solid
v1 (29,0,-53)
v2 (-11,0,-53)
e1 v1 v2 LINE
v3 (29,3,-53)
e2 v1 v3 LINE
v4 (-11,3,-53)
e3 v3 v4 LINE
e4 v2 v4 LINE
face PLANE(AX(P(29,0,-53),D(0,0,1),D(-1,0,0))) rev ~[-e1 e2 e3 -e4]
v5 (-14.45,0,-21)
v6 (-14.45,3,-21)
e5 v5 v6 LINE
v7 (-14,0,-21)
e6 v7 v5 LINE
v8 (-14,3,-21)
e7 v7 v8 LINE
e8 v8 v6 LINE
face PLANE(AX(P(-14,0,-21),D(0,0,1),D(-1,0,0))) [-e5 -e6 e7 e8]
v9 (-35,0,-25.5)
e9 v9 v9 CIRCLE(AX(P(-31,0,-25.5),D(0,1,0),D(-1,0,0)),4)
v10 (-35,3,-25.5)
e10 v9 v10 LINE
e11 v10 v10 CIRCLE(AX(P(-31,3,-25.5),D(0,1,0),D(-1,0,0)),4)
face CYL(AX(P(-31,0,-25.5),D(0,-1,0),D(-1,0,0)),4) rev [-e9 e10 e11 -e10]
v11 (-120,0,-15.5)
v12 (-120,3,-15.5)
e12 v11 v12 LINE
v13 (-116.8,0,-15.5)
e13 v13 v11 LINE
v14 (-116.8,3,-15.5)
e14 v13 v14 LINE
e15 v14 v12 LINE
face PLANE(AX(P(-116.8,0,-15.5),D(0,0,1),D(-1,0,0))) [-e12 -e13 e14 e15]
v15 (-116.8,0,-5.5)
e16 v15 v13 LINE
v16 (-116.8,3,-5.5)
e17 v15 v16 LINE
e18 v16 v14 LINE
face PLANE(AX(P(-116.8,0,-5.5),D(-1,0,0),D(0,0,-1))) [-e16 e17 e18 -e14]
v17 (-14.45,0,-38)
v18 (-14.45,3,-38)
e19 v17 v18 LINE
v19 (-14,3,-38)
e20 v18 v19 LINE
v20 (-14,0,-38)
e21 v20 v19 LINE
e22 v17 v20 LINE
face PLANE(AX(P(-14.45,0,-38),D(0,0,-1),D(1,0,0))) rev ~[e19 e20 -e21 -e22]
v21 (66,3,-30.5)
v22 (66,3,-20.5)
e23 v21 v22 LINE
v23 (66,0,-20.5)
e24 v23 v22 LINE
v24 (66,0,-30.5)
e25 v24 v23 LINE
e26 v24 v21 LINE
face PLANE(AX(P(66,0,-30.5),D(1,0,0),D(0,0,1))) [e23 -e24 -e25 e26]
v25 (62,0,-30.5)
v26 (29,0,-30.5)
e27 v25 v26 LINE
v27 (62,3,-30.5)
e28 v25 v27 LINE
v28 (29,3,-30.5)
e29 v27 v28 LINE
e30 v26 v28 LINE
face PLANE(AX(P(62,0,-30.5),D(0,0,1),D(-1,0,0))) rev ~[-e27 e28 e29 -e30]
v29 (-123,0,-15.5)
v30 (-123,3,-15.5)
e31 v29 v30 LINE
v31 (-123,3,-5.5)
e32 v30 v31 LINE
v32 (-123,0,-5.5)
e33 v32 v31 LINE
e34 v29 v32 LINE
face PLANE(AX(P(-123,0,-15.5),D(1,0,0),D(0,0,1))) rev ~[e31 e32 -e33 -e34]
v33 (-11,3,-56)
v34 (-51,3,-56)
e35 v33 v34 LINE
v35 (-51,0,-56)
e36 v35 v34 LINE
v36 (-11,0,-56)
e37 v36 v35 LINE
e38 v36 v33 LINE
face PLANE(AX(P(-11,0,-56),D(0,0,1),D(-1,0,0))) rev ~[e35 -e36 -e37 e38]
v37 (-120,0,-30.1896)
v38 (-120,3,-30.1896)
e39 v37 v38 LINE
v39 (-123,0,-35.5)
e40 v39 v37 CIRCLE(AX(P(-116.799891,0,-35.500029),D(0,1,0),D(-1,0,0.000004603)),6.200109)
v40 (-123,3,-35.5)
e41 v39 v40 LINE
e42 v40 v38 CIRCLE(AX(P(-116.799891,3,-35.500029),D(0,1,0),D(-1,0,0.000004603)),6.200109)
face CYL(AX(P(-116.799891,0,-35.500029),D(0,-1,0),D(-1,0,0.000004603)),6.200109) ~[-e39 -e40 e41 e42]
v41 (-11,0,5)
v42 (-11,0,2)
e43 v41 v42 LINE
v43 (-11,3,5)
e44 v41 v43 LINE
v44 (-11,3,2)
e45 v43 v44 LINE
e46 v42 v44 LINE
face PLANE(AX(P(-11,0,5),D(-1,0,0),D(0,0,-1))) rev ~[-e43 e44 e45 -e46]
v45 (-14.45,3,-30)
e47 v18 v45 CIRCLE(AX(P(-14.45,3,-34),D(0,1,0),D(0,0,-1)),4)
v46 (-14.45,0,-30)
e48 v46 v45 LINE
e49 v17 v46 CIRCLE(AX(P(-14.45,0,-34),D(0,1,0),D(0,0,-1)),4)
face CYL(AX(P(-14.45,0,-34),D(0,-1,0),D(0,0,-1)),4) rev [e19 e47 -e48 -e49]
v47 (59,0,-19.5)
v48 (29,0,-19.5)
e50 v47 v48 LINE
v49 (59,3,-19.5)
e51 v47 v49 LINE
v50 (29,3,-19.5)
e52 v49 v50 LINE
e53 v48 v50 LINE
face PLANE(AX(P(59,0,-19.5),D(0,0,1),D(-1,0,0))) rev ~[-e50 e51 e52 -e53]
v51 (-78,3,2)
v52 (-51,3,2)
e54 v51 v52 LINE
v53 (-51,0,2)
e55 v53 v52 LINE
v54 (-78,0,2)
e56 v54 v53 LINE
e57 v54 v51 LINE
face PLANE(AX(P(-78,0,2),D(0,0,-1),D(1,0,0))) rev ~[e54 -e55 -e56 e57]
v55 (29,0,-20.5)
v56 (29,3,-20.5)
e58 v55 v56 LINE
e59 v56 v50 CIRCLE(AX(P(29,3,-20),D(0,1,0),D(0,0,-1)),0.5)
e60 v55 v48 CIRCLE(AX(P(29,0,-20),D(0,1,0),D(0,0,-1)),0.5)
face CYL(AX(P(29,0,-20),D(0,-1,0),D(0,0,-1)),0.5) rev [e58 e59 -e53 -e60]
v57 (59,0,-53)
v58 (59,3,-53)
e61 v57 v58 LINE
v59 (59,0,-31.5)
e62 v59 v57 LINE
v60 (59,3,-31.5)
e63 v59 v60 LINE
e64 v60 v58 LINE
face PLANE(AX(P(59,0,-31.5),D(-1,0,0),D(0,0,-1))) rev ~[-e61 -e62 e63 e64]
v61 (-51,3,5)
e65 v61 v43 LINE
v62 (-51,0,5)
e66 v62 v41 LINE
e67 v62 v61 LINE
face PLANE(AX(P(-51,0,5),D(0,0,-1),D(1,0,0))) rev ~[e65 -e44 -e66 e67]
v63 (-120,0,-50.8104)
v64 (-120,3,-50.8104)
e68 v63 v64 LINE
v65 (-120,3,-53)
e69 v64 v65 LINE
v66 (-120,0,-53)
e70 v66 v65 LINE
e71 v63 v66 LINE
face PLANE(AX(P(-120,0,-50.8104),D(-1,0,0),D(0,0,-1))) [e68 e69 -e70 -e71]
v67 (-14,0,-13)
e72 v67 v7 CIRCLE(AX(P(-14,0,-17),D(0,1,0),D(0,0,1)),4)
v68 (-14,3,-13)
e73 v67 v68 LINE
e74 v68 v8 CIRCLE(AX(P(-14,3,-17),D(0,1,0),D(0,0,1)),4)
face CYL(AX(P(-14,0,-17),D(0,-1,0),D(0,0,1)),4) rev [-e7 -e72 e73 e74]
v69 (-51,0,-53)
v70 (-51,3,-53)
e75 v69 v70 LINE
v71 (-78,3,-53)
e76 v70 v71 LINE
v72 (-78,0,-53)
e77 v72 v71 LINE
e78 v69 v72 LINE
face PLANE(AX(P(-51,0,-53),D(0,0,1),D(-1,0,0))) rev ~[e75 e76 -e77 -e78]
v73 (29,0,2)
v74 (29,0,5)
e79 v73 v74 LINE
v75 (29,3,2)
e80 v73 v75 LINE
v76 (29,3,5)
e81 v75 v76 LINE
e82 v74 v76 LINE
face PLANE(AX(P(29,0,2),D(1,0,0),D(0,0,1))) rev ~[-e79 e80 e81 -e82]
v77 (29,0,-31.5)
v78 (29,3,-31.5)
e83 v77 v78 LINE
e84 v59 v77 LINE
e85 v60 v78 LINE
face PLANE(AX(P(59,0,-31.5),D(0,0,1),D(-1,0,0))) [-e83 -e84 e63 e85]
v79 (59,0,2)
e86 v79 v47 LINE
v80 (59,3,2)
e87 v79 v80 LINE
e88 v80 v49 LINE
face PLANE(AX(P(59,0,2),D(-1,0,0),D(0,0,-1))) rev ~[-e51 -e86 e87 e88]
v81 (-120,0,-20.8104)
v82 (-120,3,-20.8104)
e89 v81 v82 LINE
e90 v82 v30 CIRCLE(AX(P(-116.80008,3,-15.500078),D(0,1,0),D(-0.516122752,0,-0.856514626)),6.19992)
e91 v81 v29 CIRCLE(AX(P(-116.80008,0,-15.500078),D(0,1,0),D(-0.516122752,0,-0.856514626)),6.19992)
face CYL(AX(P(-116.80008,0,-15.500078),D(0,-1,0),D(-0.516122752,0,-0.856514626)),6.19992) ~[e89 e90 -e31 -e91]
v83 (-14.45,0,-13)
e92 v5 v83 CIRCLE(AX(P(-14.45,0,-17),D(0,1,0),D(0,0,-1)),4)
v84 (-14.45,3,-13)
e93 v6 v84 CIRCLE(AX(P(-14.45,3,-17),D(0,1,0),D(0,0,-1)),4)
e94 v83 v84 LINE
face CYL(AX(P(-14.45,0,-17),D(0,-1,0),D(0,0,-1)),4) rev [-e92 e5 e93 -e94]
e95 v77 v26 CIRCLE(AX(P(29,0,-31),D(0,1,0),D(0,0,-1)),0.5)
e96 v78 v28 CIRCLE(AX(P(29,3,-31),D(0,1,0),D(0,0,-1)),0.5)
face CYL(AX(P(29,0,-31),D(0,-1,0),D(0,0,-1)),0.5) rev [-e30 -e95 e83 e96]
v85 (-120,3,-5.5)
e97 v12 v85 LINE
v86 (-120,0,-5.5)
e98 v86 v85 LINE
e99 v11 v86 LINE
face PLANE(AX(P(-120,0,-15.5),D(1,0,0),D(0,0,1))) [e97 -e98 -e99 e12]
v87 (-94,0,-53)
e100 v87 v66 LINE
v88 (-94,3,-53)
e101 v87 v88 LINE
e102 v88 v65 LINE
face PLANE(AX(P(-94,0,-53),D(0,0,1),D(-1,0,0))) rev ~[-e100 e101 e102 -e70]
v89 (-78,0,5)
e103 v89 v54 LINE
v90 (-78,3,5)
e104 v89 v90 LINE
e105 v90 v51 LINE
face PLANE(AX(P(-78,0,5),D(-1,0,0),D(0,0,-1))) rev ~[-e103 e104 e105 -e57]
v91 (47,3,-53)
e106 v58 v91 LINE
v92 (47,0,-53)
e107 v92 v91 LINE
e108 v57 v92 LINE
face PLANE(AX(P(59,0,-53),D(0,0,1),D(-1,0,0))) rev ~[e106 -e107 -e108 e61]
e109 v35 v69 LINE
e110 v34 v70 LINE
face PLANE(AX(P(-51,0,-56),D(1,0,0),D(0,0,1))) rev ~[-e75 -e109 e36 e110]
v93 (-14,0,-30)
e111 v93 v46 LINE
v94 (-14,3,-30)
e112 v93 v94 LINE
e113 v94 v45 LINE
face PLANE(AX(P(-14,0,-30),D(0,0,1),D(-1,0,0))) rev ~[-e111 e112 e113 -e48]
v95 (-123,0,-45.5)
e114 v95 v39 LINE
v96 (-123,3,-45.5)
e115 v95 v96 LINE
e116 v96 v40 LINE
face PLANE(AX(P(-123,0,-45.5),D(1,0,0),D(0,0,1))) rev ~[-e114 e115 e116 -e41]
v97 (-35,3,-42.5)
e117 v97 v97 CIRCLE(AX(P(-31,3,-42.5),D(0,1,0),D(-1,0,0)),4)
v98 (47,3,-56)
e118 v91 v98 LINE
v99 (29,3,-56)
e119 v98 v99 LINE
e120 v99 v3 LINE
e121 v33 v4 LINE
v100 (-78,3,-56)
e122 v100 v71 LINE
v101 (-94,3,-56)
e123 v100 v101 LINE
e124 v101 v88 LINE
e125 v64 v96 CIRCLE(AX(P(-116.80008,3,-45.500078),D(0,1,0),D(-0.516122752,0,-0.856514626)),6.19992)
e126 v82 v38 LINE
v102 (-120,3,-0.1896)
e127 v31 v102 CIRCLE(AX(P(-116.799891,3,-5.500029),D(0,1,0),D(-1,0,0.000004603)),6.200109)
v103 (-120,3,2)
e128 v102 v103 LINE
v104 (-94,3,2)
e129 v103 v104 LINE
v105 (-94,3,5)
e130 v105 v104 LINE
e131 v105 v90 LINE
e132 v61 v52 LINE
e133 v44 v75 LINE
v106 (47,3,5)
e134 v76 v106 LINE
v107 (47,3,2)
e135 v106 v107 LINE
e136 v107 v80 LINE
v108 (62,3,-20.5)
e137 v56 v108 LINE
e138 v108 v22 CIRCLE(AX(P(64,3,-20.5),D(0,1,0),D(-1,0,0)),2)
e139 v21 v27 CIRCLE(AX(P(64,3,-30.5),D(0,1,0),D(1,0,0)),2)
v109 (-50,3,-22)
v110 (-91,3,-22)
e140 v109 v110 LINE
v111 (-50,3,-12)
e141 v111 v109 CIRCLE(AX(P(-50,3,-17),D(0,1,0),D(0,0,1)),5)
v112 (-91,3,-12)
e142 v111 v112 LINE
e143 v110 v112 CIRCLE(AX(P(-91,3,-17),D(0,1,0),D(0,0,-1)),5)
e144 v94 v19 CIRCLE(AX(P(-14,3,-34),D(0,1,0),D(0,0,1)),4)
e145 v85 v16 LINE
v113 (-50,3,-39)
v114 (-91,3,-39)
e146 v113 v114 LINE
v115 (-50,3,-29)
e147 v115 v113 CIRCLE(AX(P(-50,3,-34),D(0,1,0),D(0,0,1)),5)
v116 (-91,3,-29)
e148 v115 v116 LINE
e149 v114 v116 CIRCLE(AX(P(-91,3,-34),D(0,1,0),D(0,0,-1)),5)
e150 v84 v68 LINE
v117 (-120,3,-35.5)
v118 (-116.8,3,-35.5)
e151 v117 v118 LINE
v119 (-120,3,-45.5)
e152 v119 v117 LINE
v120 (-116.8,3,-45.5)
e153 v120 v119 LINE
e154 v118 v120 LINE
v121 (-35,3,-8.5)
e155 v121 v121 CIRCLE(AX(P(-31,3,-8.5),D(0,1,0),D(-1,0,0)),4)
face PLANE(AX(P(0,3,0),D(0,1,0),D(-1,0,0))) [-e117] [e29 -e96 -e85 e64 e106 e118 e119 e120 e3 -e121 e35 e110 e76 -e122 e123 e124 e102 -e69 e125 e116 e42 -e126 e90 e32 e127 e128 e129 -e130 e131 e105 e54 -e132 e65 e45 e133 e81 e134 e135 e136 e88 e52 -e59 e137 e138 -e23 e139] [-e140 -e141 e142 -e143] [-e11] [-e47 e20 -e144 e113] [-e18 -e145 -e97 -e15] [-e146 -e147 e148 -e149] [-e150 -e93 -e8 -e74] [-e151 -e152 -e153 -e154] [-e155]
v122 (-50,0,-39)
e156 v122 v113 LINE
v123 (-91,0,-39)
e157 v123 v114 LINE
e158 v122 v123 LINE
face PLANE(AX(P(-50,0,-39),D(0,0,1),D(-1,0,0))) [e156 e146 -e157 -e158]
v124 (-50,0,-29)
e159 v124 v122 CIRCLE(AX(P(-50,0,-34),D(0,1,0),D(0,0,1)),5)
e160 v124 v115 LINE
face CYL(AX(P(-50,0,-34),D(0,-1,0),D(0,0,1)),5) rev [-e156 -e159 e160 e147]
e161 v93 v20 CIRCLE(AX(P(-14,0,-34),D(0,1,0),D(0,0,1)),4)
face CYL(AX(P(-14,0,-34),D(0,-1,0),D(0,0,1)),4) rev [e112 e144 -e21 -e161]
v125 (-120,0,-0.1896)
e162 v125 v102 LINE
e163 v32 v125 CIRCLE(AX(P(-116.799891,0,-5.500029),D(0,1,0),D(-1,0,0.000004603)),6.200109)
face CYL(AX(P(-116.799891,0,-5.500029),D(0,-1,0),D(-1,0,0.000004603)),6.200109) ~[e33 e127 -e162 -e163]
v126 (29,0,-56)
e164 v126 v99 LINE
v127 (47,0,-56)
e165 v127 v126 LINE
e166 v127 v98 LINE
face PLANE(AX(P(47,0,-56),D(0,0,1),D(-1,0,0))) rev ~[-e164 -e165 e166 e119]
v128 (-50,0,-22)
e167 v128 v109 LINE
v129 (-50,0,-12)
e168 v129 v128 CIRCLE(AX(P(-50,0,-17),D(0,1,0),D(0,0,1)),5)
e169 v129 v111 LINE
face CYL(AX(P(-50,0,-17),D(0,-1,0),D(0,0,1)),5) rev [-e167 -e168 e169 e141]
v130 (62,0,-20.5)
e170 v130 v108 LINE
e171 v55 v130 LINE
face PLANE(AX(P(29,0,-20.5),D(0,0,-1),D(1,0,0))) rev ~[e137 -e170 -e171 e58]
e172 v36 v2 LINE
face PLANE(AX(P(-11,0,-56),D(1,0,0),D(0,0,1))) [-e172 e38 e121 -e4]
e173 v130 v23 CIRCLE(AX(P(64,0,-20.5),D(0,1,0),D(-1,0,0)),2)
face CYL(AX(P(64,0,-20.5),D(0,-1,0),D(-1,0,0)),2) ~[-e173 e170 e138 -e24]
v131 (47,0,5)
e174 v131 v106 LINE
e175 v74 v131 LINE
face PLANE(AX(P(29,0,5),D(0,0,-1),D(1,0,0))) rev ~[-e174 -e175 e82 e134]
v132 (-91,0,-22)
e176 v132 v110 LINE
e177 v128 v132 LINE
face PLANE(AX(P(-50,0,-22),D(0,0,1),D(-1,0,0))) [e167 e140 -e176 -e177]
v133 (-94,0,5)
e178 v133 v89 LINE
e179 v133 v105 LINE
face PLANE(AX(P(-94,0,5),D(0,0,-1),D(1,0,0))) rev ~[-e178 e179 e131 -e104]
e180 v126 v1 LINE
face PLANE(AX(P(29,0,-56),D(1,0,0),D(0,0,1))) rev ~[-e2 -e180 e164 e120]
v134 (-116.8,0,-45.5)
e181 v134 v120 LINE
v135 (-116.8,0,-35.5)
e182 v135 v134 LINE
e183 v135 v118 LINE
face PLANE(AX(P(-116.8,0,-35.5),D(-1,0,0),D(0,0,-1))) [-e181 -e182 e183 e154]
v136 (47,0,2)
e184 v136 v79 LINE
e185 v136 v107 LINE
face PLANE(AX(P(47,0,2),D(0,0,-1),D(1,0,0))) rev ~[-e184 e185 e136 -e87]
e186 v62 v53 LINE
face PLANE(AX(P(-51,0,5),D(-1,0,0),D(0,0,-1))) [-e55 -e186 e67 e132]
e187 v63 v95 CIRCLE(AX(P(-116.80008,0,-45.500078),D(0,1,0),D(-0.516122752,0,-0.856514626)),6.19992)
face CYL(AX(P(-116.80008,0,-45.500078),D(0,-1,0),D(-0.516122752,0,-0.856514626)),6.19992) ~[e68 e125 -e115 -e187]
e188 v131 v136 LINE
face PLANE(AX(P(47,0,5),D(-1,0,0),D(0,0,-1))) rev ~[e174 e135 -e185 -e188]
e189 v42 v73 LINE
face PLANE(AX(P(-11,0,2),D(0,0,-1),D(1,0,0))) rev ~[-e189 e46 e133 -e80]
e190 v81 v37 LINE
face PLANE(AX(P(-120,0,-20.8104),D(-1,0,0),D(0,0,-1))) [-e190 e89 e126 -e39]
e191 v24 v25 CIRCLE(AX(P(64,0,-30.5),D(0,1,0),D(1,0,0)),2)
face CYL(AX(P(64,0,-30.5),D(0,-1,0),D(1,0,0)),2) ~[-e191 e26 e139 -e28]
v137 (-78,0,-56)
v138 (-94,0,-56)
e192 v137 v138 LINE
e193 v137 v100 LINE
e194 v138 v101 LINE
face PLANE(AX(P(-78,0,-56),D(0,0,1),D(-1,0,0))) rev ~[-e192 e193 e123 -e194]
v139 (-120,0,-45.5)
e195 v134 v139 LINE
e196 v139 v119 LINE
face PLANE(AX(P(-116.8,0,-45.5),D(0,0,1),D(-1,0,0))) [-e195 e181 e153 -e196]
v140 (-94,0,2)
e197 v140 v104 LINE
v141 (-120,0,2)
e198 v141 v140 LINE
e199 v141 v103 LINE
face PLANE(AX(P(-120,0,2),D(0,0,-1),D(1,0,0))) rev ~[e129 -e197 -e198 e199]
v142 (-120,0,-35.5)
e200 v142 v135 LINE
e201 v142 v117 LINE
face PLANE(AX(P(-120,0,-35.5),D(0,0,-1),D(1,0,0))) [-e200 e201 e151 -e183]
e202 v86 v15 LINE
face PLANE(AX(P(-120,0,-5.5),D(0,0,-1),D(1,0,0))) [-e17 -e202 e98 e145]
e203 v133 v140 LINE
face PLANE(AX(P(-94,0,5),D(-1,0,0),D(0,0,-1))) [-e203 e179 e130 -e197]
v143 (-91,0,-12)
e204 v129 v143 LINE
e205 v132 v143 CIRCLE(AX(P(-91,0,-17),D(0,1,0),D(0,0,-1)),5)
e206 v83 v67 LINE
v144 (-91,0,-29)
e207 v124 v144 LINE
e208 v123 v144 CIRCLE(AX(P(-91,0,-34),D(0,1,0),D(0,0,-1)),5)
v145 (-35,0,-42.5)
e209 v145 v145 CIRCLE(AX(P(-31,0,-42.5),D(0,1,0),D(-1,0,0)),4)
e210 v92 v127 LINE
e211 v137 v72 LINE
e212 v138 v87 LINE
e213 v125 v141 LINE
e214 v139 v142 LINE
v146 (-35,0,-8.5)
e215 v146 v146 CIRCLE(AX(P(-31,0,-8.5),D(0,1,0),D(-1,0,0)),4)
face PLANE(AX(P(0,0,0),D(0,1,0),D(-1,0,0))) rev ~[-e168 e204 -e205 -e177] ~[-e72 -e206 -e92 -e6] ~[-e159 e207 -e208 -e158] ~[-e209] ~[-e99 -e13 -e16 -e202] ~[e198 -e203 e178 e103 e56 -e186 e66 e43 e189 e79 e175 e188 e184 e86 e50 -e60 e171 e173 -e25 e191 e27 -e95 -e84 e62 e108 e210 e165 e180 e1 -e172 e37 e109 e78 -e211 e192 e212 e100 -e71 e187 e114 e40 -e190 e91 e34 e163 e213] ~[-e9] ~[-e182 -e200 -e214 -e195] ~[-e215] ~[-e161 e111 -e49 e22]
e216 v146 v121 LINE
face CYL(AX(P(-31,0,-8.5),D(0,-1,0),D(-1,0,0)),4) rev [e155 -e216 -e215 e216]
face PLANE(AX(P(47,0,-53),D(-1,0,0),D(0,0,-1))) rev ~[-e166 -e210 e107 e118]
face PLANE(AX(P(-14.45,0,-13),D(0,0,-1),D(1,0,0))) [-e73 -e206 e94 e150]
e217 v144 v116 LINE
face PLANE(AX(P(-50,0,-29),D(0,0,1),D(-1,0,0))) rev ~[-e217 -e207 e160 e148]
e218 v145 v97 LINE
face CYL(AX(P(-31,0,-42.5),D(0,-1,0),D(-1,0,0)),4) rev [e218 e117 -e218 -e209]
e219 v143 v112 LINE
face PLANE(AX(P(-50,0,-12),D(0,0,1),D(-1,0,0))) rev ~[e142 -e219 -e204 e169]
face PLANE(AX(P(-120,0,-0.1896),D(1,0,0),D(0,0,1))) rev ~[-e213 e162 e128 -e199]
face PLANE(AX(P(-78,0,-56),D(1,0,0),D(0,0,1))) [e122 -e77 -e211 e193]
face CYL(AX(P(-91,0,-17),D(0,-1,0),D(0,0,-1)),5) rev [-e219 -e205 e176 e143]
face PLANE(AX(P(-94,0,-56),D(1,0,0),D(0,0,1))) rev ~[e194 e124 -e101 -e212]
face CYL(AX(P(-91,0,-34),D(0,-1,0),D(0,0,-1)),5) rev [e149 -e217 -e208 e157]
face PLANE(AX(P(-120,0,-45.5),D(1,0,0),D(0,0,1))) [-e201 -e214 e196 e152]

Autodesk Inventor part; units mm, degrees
ref_plane "YZ Plane" through (0, 0, 0) normal (1, 0, 0) x (0, 1, 0)
ref_plane "XZ Plane" through (0, 0, 0) normal (0, 1, 0) x (-1, 0, 0)
ref_plane "XY Plane" through (0, 0, 0) normal (0, 0, 1) x (1, 0, 0)
sketch "Sketch1" plane through (0, 0, 0) normal (0, 1, 0) x (-1, 0, 0)
  line L0 (37.5, -2) -> (24.5, -2) construction
  line L1 (24.5, -2) -> (24.5, -15) construction
  line L2 (24.5, -15) -> (37.5, -15) construction
  line L3 (37.5, -15) -> (37.5, -2) construction
  line L4 (56.9183, -8.5) -> (8.3915, -8.5) construction
  line L5 (0, -17) -> (105, -17) construction
  line L6 (0, 0) -> (0, -51) construction
  line L7 (0, -34) -> (105, -34) construction
  line L8 (105, -51) -> (105, 0) construction
  line L9 (31, 55.8243) -> (31, -51) construction
  line L10 (56.8064, -25.5) -> (17, -25.5) construction
  line L11 (24.5, -19) -> (24.5, -32) construction
  line L12 (37.5, -19) -> (24.5, -19) construction
  line L13 (37.5, -32) -> (37.5, -19) construction
  line L14 (24.5, -32) -> (37.5, -32) construction
  line L15 (24.5, -36) -> (24.5, -49) construction
  line L16 (37.5, -36) -> (24.5, -36) construction
  line L17 (37.5, -49) -> (37.5, -36) construction
  line L18 (24.5, -49) -> (37.5, -49) construction
  line L19 (56.3008, -42.5) -> (16.5498, -42.5) construction
  arc A0 (50, -12) -> (50, -22) centre (50, -17) ccw
  arc A1 (91, -22) -> (91, -12) centre (91, -17) ccw
  arc A2 (50, -29) -> (50, -39) centre (50, -34) ccw
  arc A3 (91, -39) -> (91, -29) centre (91, -34) ccw
  line L20 (50, -12) -> (91, -12)
  line L21 (50, -22) -> (91, -22)
  line L22 (50, -29) -> (91, -29)
  line L23 (50, -39) -> (91, -39)
  arc A4 (14.45, -38) -> (14.45, -30) centre (14.45, -34) ccw
  line L24 (103.5, -49.5) -> (103.5, -1.5) construction
  line L25 (1.5, -1.5) -> (1.5, -49.5) construction
  arc A5 (14, -30) -> (14, -38) centre (14, -34) ccw
  arc A6 (14, -13) -> (14, -21) centre (14, -17) ccw
  line L26 (14.45, -38) -> (14, -38)
  line L27 (14, -30) -> (14.45, -30)
  line L28 (14, -21) -> (14.45, -21)
  line L29 (14.45, -13) -> (14, -13)
  arc A7 (14.45, -21) -> (14.45, -13) centre (14.45, -17) ccw
  arc A8 (96.5, -51) -> (93, -47.5) centre (93, -51) ccw construction
  arc A9 (50, -47.5) -> (46.5, -51) centre (50, -51) ccw construction
  arc A10 (97.7697, -49.5) -> (93, -46) centre (93, -51) ccw construction
  line L30 (93, -46) -> (50, -46) construction
  line L31 (96.5, -51) -> (105, -51) construction
  line L32 (93, -47.5) -> (50, -47.5) construction
  line L33 (105, -49.5) -> (97.7697, -49.5) construction
  arc A11 (50, -46) -> (45.2303, -49.5) centre (50, -51) ccw construction
  arc A12 (45.2303, -1.5) -> (50, -5) centre (50, 0) ccw construction
  arc A13 (46.5, 0) -> (50, -3.5) centre (50, 0) ccw construction
  line L34 (93, -3.5) -> (50, -3.5) construction
  line L35 (93, -5) -> (50, -5) construction
  line L36 (97.7697, -1.5) -> (105, -1.5) construction
  line L37 (105, 0) -> (96.5, 0) construction
  arc A14 (93, -3.5) -> (96.5, 0) centre (93, 0) ccw construction
  arc A15 (93, -5) -> (97.7697, -1.5) centre (93, 0) ccw construction
  arc A16 (17.95, -51) -> (14.45, -47.5) centre (14.45, -51) ccw construction
  arc A17 (12, -47.5) -> (8.5, -51) centre (12, -51) ccw construction
  line L38 (14.45, -46) -> (12, -46) construction
  line L39 (14.45, -47.5) -> (12, -47.5) construction
  arc A18 (12, -46) -> (7.2303, -49.5) centre (12, -51) ccw construction
  arc A19 (19.2197, -49.5) -> (14.45, -46) centre (14.45, -51) ccw construction
  line L40 (45.2303, -49.5) -> (19.2197, -49.5) construction
  line L41 (7.2303, -49.5) -> (0, -49.5) construction
  line L42 (0, -51) -> (8.5, -51) construction
  line L43 (17.95, -51) -> (46.5, -51) construction
  line L44 (14.45, -5) -> (12, -5) construction
  line L45 (14.45, -3.5) -> (12, -3.5) construction
  arc A20 (8.5, 0) -> (12, -3.5) centre (12, 0) ccw construction
  arc A21 (14.45, -3.5) -> (17.95, 0) centre (14.45, 0) ccw construction
  arc A22 (7.2303, -1.5) -> (12, -5) centre (12, 0) ccw construction
  arc A23 (14.45, -5) -> (19.2197, -1.5) centre (14.45, 0) ccw construction
  line L46 (46.5, 0) -> (17.95, 0) construction
  line L47 (8.5, 0) -> (0, 0) construction
  line L48 (0, -1.5) -> (7.2303, -1.5) construction
  line L49 (19.2197, -1.5) -> (45.2303, -1.5) construction
  arc A24 (39, -4) -> (35.5, -0.5) centre (35.5, -4) ccw construction
  arc A25 (26.5, -0.5) -> (23, -4) centre (26.5, -4) ccw construction
  arc A26 (35.5, -50.5) -> (39, -47) centre (35.5, -47) ccw construction
  arc A27 (23, -47) -> (26.5, -50.5) centre (26.5, -47) ccw construction
  line L50 (39, -4) -> (39, -47) construction
  line L51 (35.5, -0.5) -> (26.5, -0.5) construction
  line L52 (23, -4) -> (23, -47) construction
  line L53 (26.5, -50.5) -> (35.5, -50.5) construction
  line L54 (51, 5) -> (51, 2)
  line L55 (78, 5) -> (78, 2)
  line L56 (94, 5) -> (94, 2)
  line L57 (11, 5) -> (11, 2)
  line L58 (-29, 2) -> (-29, 5)
  line L59 (51, -56) -> (51, -53)
  line L60 (11, -56) -> (11, -53)
  line L61 (-29, -56) -> (-29, -53)
  line L62 (78, -56) -> (78, -53)
  line L63 (94, -56) -> (94, -53)
  line L64 (-47, 5) -> (-47, 2)
  line L65 (-47, -53) -> (-47, -56)
  line L66 (11, 2) -> (-29, 2)
  line L67 (120, 2) -> (94, 2)
  line L68 (78, 2) -> (51, 2)
  line L69 (51, -53) -> (78, -53)
  line L70 (94, -53) -> (120, -53)
  line L71 (-29, -53) -> (11, -53)
  line L72 (-47, 2) -> (-59, 2)
  line L73 (-59, -53) -> (-47, -53)
  circle A28 centre (31, -8.5) radius 4
  circle A29 centre (31, -25.5) radius 4
  circle A30 centre (31, -42.5) radius 4
  line L74 (51, 5) -> (11, 5)
  line L75 (-29, 5) -> (-47, 5)
  line L76 (-47, -56) -> (-29, -56)
  line L77 (11, -56) -> (51, -56)
  line L78 (78, -56) -> (94, -56)
  line L79 (-59, 2) -> (-59, -19.5)
  line L80 (-59, -31.5) -> (-59, -53)
  line L81 (120, -5.5) -> (116.8, -5.5)
  line L82 (116.8, -5.5) -> (116.8, -15.5)
  line L83 (116.8, -15.5) -> (120, -15.5)
  line L84 (120, -15.5) -> (120, -5.5)
  line L85 (120, -35.5) -> (116.8, -35.5)
  line L86 (116.8, -35.5) -> (116.8, -45.5)
  line L87 (116.8, -45.5) -> (120, -45.5)
  line L88 (120, -45.5) -> (120, -35.5)
  line L89 (-59, -19.5) -> (-29, -19.5)
  arc A31 (-29, -20.5) -> (-29, -19.5) centre (-29, -20) ccw
  line L90 (-29, -20.5) -> (-62, -20.5)
  line L91 (-62, -30.5) -> (-29, -30.5)
  arc A32 (-29, -31.5) -> (-29, -30.5) centre (-29, -31) ccw
  line L92 (-59, -31.5) -> (-29, -31.5)
  arc A33 (-62, -20.5) -> (-66, -20.5) centre (-64, -20.5) ccw
  arc A34 (-66, -30.5) -> (-62, -30.5) centre (-64, -30.5) ccw
  line L93 (-66, -30.5) -> (-66, -20.5)
  arc A35 (120, -50.8104) -> (123, -45.5) centre (116.8, -45.5) ccw
  arc A36 (123, -5.5) -> (120, -0.1896) centre (116.8, -5.5) ccw
  line L94 (120, -0.1896) -> (120, 2)
  line L95 (120, -50.8104) -> (120, -53)
  arc A37 (123, -35.5) -> (120, -30.1896) centre (116.8, -35.5) ccw
  arc A38 (120, -20.8104) -> (123, -15.5) centre (116.8, -15.5) ccw
  line L96 (120, -20.8104) -> (120, -30.1896)
  line L97 (123, -45.5) -> (123, -35.5)
  line L98 (123, -15.5) -> (123, -5.5)
  line L99 (94, 5) -> (78, 5)
  dimension "d0" = 13
  dimension "d2" = 17
  dimension "d3" = 31
  dimension "d4" = 105
  dimension "d5" = 17
  dimension "d6" = 17
  dimension "d7" = 10
  dimension "d8" = 1.5
  dimension "d9" = 1.5
  dimension "d10" = 4
  dimension "d11" = 1.5
  dimension "d12" = 1.5
  dimension "d13" = 1.5
  dimension "d14" = 17
  dimension "d15" = 17
  dimension "d16" = 12
  dimension "d17" = 14
  dimension "d19" = 12
  dimension "d20" = 2
  dimension "d21" = 2
  dimension "d22" = 7
  dimension "d23" = 2
  dimension "d24" = 2
  dimension "d25" = 40
  dimension "d26" = 40
  dimension "d27" = 18
  dimension "d30" = 2
  dimension "d31" = 14
  dimension "d33" = 19
  dimension "d38" = 55
  dimension "d39" = 8
  dimension "d46" = 3
  dimension "d52" = 12
  dimension "d53" = 10
  dimension "d54" = 3.2
  dimension "d56" = 20
  dimension "d57" = 30
  dimension "d58" = 1
  dimension "d59" = 10
  dimension "d60" = 4
  dimension "d62" = 3
  dimension "d64" = 3
  dimension "d67" = 27
  dimension "d68" = 16
  dimension "d71" = 26
  dimension "d72" = 16.55
extrude "Extrusion1" add sketch "Sketch1" along normal blind 3
properties part number "Bottom_plate2" material "Polycarbonate, Clear"
